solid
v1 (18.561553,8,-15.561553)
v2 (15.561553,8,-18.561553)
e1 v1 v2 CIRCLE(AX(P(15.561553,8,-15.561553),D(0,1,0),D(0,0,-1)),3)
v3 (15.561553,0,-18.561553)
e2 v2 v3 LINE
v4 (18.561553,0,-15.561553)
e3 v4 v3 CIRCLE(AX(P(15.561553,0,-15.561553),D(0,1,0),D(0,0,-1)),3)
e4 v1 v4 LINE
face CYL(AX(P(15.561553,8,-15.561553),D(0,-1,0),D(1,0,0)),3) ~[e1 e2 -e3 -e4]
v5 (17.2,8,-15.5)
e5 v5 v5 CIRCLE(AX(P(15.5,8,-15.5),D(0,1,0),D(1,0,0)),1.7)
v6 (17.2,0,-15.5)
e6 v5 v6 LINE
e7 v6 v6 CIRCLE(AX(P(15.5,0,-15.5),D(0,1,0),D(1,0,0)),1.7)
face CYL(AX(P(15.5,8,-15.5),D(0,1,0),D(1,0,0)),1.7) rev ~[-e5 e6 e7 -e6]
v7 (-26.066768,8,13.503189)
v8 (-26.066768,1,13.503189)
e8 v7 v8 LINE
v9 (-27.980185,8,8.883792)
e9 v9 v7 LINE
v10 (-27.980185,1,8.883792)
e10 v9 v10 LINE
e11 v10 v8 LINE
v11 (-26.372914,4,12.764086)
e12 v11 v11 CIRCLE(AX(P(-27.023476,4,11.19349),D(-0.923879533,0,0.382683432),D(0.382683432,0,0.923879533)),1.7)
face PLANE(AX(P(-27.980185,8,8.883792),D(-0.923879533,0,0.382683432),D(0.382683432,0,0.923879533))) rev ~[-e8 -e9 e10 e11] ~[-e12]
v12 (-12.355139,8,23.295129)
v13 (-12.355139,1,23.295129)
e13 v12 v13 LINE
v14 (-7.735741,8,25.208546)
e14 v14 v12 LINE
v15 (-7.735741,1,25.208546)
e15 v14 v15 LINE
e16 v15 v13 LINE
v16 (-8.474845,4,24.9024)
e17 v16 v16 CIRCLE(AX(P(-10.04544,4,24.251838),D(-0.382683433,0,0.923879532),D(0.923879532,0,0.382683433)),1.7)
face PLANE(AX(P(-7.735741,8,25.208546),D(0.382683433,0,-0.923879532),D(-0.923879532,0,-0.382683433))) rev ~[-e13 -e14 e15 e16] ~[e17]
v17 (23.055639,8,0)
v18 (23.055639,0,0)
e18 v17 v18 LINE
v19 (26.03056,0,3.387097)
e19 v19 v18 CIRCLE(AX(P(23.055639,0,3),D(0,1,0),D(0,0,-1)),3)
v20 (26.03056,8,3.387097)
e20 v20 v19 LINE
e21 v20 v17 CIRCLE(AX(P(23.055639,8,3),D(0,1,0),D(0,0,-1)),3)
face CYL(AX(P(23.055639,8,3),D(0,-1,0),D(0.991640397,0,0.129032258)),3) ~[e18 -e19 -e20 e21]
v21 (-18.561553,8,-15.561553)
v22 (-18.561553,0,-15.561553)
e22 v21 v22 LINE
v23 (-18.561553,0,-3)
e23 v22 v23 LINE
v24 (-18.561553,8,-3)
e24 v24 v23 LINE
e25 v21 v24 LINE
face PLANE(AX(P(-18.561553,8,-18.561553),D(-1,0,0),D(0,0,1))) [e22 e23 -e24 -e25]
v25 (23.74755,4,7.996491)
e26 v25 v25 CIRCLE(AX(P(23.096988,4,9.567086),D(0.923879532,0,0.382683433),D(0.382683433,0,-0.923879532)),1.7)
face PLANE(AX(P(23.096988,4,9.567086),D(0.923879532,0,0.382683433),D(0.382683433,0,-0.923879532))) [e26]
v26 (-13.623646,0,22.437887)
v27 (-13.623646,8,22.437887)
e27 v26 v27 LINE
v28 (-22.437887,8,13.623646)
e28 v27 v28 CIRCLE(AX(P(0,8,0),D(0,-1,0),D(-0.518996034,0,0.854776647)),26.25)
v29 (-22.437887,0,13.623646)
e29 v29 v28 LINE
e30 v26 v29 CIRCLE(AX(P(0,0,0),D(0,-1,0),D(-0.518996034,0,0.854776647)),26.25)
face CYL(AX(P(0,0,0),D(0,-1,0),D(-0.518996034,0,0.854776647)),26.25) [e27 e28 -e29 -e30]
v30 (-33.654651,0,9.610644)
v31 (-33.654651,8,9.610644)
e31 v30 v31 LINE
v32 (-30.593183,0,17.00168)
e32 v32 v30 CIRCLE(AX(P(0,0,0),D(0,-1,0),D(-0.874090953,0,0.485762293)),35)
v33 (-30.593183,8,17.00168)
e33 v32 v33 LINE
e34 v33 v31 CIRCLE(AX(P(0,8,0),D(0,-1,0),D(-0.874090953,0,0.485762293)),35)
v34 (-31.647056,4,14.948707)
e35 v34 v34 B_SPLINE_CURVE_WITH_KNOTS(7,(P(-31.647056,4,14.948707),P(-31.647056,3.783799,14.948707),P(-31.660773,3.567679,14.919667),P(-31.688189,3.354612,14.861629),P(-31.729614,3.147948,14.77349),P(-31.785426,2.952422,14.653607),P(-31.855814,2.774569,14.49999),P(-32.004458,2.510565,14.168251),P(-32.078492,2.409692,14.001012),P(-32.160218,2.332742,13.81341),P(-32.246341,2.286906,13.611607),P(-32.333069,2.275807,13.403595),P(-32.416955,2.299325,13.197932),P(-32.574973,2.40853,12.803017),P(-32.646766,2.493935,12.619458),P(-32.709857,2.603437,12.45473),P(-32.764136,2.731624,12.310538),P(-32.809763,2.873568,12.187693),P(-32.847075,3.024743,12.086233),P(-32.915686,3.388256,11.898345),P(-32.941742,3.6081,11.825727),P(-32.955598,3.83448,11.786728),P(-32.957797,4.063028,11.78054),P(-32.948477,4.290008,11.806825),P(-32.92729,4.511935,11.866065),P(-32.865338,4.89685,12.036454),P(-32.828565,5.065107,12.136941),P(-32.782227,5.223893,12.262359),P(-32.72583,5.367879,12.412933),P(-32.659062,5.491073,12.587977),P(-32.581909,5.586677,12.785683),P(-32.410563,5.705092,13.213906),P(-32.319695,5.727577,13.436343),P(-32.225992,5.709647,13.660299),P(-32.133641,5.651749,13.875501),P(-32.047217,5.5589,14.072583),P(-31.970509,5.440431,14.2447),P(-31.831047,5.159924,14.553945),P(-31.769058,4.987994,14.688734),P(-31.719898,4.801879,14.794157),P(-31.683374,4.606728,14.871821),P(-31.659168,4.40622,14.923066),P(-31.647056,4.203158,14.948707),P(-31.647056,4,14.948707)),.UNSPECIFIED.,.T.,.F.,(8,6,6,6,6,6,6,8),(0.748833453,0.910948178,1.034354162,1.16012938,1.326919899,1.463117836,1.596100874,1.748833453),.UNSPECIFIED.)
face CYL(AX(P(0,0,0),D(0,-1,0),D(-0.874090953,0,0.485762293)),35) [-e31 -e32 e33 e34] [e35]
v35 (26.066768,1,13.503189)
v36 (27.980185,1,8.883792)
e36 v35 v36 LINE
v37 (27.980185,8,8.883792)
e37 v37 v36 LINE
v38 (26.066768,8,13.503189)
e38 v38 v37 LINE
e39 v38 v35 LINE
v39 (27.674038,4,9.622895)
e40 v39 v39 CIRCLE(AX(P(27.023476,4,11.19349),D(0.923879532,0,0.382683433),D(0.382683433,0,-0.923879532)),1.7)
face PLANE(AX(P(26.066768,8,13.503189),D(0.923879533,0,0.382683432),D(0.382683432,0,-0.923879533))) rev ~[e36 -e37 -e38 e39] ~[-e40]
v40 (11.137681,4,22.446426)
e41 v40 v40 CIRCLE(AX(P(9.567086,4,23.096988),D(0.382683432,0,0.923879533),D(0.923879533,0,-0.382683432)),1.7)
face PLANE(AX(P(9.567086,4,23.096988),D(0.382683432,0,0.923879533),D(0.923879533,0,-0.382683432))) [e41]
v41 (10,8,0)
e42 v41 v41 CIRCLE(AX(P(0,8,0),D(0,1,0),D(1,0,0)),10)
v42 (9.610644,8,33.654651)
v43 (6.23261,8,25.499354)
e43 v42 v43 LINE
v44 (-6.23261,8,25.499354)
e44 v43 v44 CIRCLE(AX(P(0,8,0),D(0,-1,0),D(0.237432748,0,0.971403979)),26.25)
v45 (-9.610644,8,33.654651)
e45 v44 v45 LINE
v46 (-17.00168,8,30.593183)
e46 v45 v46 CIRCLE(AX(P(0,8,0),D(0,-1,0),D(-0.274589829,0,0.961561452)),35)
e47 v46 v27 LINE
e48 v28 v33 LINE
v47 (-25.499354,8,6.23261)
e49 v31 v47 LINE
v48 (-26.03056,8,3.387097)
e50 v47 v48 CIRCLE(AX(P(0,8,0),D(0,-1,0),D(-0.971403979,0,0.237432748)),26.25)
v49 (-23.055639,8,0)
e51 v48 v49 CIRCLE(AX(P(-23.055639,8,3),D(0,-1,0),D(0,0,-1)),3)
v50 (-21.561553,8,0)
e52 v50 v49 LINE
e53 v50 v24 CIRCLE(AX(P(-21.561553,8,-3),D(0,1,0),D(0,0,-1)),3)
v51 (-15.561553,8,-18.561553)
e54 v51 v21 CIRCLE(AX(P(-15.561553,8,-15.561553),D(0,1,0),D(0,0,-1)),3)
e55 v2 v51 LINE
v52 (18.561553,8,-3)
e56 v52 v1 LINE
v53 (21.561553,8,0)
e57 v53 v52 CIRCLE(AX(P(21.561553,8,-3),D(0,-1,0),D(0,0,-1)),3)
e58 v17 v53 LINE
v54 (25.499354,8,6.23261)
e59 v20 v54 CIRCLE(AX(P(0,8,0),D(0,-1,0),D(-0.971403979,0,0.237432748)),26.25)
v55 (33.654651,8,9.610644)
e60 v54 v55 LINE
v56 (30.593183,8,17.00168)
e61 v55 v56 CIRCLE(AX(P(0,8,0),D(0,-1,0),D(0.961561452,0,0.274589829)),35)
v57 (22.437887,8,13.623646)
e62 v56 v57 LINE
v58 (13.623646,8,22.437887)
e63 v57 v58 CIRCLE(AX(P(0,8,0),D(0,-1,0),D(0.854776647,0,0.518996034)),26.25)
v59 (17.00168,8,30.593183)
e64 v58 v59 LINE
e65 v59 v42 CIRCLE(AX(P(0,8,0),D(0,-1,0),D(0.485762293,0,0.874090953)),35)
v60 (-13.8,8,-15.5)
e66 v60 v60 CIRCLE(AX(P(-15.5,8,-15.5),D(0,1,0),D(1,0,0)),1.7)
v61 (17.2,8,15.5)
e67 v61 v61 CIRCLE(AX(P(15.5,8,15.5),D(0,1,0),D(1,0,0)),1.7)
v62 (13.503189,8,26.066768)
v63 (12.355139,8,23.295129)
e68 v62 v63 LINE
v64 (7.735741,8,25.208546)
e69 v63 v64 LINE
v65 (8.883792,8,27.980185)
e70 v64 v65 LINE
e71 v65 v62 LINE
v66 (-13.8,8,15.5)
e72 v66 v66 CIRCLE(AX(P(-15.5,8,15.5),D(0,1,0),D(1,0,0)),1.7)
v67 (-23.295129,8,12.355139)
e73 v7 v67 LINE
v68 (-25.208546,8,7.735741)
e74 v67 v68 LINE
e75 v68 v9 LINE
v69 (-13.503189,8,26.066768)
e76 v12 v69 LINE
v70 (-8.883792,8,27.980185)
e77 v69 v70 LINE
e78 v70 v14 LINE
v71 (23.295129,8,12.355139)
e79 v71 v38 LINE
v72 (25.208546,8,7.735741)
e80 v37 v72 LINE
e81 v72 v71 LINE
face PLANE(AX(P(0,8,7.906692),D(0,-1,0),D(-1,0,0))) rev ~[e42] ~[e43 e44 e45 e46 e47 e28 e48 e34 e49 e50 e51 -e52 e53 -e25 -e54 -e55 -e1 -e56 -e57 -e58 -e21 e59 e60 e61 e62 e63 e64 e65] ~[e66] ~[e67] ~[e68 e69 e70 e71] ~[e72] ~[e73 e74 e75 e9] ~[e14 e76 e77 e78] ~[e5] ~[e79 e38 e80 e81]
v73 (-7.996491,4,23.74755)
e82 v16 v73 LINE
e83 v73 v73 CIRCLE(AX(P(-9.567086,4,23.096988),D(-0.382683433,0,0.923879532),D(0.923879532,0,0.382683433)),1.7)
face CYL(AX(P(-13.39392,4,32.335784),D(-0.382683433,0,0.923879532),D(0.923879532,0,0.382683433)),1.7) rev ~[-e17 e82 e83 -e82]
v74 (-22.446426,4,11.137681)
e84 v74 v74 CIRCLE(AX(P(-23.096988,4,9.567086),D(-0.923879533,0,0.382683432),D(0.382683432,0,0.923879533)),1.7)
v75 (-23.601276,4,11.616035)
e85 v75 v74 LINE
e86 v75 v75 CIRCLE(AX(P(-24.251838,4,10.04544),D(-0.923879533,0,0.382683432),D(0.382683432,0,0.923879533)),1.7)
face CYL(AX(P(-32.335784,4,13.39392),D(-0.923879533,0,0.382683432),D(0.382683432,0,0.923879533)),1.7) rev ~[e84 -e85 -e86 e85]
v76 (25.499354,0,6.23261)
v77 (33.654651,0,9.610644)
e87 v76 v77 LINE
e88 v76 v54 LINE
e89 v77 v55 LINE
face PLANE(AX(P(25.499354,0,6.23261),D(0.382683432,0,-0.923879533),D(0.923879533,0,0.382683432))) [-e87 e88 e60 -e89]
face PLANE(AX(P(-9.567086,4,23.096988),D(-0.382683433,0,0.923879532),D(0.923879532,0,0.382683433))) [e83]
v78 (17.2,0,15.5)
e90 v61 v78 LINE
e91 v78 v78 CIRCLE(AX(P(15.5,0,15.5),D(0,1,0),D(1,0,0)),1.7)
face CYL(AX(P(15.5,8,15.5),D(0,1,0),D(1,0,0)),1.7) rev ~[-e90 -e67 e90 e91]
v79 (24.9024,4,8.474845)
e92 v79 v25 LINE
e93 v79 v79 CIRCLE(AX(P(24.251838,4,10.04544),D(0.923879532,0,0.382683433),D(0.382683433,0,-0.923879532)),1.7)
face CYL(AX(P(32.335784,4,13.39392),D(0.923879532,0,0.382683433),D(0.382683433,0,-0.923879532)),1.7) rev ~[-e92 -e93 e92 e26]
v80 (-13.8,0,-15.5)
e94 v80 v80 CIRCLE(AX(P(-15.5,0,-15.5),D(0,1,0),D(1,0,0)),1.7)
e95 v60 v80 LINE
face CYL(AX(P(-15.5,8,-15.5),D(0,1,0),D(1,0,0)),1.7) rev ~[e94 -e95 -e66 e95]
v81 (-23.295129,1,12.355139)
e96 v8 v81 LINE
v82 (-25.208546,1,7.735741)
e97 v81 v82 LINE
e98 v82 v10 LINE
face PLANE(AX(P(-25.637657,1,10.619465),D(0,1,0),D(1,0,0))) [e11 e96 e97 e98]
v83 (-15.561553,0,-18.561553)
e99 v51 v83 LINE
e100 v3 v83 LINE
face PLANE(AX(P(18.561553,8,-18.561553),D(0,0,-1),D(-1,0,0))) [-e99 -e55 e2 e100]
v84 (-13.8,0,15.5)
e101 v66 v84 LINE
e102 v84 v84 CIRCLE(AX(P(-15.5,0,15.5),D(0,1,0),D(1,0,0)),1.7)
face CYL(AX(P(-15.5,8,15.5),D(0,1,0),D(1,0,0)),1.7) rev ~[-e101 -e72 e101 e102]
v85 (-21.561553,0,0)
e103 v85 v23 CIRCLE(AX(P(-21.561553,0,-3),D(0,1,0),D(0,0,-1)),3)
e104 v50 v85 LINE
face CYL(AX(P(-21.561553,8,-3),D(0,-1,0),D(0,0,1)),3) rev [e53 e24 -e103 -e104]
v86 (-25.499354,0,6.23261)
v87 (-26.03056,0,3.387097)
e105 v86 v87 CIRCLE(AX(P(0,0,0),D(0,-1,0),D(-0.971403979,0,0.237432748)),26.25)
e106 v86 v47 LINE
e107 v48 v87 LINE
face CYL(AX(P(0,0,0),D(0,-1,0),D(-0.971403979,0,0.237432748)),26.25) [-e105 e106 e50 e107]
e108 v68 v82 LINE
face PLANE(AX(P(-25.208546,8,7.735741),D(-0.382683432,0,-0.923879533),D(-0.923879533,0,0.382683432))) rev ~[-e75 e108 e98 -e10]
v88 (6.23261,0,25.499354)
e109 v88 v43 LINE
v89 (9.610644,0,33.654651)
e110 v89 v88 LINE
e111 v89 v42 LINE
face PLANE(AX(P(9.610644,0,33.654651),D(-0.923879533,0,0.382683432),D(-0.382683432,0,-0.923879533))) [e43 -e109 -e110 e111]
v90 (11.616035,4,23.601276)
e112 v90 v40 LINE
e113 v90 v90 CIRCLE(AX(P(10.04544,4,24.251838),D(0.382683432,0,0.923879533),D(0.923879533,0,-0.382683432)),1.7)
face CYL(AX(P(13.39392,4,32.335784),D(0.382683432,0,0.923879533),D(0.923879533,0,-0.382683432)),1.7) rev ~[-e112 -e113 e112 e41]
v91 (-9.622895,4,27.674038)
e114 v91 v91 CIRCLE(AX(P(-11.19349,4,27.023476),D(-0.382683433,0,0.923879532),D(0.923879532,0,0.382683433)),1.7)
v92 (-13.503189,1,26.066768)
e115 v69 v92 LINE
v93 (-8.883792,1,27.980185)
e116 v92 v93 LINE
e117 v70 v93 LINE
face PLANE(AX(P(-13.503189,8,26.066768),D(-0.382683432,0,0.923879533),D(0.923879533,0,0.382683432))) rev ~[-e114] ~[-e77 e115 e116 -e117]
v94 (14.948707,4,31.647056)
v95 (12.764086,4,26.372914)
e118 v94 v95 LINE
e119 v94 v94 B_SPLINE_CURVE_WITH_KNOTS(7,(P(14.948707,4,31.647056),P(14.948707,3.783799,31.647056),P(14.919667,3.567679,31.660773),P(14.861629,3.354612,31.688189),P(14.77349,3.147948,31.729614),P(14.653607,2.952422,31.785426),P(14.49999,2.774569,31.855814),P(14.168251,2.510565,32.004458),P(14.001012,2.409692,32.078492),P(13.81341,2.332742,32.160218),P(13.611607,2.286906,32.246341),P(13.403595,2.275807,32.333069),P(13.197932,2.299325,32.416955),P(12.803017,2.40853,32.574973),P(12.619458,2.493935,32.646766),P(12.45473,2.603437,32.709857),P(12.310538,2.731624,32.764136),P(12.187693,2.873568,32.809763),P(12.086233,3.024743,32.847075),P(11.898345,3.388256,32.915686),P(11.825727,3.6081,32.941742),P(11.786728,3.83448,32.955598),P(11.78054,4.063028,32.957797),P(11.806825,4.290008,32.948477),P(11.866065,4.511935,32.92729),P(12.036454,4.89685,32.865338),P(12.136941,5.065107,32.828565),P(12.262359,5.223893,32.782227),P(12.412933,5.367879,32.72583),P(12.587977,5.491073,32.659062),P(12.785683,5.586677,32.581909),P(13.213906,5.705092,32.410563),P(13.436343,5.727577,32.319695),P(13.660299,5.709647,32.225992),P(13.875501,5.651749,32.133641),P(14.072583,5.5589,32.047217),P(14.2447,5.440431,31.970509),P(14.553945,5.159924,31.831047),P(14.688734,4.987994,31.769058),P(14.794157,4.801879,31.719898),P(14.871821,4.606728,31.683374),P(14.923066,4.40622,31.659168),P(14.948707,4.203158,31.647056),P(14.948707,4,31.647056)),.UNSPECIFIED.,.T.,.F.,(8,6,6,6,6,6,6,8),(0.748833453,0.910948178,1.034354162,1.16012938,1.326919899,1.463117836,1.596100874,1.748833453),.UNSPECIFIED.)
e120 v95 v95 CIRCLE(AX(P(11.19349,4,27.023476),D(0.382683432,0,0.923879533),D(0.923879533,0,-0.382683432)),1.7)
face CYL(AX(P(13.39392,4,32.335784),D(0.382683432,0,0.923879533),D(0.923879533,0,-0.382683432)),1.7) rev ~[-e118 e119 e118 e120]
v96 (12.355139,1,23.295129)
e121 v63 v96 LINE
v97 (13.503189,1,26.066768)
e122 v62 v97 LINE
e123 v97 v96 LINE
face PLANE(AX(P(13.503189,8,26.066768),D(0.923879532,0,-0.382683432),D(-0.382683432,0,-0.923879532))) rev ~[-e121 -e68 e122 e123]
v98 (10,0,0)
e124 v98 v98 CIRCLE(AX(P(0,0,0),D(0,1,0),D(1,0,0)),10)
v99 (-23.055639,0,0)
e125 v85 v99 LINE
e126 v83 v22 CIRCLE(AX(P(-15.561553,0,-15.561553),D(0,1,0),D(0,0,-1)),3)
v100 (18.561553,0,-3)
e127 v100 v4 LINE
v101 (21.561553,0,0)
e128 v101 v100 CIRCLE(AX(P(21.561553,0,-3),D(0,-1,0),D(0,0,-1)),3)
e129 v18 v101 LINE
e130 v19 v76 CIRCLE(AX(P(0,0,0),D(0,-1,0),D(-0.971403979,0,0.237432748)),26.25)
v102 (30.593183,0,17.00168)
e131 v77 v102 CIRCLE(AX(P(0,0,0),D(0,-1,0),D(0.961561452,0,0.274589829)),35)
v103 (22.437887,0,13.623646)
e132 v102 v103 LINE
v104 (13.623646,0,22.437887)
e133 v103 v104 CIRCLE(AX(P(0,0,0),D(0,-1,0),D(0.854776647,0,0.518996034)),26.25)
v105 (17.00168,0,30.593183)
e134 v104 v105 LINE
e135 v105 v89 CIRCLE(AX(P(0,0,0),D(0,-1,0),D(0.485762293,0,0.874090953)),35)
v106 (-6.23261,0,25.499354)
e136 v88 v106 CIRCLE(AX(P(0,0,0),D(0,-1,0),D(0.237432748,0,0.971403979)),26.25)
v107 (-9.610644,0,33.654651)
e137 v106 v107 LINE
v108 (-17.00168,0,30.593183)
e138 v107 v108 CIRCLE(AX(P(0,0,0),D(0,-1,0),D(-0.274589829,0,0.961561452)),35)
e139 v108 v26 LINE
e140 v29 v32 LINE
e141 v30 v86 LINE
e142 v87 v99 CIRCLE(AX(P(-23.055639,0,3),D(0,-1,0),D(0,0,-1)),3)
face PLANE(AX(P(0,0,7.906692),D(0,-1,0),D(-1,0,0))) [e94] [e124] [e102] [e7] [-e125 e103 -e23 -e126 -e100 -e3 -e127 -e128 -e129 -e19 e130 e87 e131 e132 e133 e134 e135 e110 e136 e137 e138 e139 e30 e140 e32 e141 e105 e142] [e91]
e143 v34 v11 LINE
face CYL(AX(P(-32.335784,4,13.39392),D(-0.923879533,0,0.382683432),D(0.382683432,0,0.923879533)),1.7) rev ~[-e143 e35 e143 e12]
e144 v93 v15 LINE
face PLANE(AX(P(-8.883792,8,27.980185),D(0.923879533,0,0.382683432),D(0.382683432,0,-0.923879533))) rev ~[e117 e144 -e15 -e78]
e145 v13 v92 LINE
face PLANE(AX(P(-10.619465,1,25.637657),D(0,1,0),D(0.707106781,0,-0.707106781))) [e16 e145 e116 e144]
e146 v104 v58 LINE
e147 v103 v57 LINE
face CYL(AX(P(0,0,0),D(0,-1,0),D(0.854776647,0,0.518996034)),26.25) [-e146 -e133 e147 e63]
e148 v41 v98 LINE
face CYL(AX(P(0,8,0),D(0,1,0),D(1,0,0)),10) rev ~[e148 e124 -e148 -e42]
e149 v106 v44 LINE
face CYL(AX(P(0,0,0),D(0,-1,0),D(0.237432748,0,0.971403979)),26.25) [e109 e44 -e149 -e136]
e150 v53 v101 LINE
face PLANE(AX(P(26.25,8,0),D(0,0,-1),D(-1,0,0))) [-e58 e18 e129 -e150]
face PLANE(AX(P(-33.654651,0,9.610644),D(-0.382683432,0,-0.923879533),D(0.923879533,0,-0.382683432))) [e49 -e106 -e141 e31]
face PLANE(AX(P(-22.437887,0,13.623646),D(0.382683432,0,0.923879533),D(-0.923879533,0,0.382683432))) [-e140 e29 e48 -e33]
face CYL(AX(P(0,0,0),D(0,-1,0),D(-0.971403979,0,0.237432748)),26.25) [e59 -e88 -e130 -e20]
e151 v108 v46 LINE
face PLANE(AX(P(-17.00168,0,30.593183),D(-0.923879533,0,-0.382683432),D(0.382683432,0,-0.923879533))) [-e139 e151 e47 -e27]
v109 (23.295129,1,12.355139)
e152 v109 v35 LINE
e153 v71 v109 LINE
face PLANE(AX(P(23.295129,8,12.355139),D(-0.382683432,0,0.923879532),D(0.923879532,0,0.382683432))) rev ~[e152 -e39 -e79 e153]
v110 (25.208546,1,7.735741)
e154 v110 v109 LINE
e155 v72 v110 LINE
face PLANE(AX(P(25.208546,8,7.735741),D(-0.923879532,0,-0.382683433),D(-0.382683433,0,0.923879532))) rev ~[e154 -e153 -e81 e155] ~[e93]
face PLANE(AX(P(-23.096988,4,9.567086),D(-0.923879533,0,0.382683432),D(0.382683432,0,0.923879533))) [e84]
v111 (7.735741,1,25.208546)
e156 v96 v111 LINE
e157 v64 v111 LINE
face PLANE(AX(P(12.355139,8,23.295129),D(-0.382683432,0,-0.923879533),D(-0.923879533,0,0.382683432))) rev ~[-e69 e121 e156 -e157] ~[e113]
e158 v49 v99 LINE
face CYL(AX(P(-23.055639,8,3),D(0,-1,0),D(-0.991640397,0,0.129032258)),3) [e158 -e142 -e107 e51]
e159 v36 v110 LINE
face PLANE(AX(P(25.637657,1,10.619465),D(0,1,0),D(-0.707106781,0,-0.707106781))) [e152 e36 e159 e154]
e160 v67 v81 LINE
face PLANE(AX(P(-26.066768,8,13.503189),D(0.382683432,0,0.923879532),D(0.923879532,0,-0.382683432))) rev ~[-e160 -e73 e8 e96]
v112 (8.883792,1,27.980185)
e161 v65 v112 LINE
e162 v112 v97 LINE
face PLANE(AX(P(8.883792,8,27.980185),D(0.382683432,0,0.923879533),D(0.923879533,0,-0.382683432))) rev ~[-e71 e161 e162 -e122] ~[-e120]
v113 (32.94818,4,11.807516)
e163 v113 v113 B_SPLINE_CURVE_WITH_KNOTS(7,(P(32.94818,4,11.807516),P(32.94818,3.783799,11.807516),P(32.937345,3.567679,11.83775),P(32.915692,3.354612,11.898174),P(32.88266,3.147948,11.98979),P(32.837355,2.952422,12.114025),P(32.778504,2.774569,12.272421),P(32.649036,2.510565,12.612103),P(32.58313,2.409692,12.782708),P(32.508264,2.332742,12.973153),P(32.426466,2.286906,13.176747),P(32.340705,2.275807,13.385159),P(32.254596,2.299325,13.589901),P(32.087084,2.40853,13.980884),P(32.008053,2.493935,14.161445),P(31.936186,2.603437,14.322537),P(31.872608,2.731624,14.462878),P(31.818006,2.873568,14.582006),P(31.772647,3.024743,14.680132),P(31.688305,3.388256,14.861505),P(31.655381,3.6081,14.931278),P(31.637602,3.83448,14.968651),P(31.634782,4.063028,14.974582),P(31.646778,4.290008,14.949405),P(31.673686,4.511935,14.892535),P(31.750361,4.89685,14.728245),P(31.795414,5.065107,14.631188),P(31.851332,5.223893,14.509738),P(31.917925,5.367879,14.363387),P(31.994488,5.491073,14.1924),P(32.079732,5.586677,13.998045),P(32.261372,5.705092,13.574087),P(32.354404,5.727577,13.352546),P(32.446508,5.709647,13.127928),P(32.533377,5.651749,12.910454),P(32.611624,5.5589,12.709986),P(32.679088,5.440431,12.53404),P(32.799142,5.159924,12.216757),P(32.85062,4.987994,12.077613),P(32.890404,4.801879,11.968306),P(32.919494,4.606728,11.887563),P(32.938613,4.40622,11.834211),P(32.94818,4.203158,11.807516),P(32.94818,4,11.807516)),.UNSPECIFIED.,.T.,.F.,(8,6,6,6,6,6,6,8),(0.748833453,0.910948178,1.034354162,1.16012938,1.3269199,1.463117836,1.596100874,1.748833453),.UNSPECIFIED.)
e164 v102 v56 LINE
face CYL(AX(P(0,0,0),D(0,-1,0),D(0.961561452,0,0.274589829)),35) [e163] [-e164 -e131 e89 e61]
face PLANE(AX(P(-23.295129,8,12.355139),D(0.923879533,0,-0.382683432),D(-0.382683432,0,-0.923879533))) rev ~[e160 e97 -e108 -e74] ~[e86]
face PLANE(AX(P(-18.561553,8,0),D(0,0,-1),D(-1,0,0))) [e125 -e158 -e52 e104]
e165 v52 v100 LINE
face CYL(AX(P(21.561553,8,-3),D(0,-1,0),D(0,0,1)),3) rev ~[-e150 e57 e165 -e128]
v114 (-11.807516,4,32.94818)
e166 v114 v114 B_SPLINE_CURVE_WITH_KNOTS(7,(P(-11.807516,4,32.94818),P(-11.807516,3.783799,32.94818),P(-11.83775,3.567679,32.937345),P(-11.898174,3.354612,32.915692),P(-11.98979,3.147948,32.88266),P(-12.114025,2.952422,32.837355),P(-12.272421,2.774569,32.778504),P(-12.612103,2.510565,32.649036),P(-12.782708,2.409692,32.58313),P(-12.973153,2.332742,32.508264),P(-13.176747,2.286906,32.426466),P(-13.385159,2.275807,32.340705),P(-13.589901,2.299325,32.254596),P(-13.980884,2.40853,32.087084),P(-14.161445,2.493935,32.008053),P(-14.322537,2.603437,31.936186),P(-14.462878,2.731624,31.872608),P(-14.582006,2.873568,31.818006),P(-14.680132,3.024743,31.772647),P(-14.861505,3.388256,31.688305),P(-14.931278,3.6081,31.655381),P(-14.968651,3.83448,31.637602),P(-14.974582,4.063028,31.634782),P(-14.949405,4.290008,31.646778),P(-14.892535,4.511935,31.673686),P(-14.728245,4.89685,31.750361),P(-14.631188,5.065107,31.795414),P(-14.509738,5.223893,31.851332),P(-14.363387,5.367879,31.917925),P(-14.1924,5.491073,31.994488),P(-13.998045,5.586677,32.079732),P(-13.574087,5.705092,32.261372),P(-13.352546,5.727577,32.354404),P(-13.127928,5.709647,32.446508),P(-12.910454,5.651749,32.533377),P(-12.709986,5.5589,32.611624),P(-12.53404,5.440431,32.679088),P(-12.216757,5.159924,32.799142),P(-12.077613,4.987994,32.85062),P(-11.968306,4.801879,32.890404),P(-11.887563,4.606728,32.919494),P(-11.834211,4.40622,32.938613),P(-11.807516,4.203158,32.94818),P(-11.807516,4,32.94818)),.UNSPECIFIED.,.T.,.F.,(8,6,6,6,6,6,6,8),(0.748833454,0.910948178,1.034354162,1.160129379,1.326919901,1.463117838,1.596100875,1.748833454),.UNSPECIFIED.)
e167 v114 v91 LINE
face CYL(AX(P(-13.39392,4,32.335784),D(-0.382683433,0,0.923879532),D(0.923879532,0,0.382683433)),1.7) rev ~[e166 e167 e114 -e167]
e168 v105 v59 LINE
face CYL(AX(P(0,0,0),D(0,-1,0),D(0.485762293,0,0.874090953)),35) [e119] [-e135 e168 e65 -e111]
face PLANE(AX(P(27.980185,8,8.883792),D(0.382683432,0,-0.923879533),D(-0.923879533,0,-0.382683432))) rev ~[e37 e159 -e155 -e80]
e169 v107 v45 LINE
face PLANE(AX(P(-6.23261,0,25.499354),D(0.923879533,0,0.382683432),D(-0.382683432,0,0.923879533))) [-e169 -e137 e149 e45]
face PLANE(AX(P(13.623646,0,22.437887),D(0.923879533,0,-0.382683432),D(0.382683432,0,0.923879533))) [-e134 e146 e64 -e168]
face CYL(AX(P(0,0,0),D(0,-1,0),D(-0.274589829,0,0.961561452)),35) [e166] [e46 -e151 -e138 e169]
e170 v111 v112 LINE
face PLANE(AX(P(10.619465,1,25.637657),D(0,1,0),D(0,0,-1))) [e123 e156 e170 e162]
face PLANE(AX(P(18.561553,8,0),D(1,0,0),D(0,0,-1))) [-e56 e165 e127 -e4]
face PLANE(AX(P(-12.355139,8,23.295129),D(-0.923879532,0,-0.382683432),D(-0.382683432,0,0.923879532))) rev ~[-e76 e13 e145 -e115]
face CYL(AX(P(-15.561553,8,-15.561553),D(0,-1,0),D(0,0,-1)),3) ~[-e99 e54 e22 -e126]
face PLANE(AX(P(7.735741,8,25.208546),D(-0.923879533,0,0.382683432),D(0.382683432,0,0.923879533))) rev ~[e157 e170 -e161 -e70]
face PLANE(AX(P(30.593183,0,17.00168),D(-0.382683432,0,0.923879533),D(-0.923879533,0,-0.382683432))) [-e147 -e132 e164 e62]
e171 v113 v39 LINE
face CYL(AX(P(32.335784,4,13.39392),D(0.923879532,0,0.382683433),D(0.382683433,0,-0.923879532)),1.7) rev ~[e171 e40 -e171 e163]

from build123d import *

# Parameters (mm, degrees)
SALIENTE_EXTRUIR1_DEPTH = 8
CROQUIS3_R              = 1.7
CORTAR_EXTRUIR1_DEPTH   = 10
CORTAR_EXTRUIR2_DEPTH   = 7
MATRIZC1_COUNT          = 4
MATRIZC1_ANGLE          = 135
CROQUIS5_R              = 10
CROQUIS5_R_2            = 1.7
CORTAR_EXTRUIR3_DEPTH   = 8
CORTAR_EXTRUIR4_DEPTH   = 8
REDONDEO1_R             = 3


with BuildPart() as part:
    # Croquis1 → Saliente-Extruir1 (new body)
    with BuildSketch(Plane(origin=(0, 0, 0), x_dir=(1, 0, 0), z_dir=(0, 1, 0))):
        with BuildLine():
            Line((-33.65465082, -9.610644005), (-25.499354444, -6.232609641))
            ThreePointArc((-25.499354444, -6.232609641), (0, 26.25), (25.499354444, -6.232609641))
            Line((25.499354444, -6.232609641), (33.65465082, -9.610644005))
            ThreePointArc((33.65465082, -9.610644005), (32.335783638, -13.393920133), (30.593183361, -17.001680265))
            Line((30.593183361, -17.001680265), (22.437886985, -13.623645901))
            ThreePointArc((22.437886985, -13.623645901), (18.561553006, -18.561553006), (13.623645901, -22.437886985))
            Line((13.623645901, -22.437886985), (17.001680265, -30.593183361))
            ThreePointArc((17.001680265, -30.593183361), (13.393920133, -32.335783638), (9.610644005, -33.65465082))
            Line((9.610644005, -33.65465082), (6.232609641, -25.499354444))
            ThreePointArc((6.232609641, -25.499354444), (0, -26.25), (-6.232609641, -25.499354444))
            Line((-6.232609641, -25.499354444), (-9.610644005, -33.65465082))
            ThreePointArc((-9.610644005, -33.65465082), (-13.393920133, -32.335783638), (-17.001680265, -30.593183361))
            Line((-17.001680265, -30.593183361), (-13.623645901, -22.437886985))
            ThreePointArc((-13.623645901, -22.437886985), (-18.561553006, -18.561553006), (-22.437886985, -13.623645901))
            Line((-22.437886985, -13.623645901), (-30.593183361, -17.001680265))
            ThreePointArc((-30.593183361, -17.001680265), (-32.335783638, -13.393920133), (-33.65465082, -9.610644005))
        make_face()
    extrude(amount=SALIENTE_EXTRUIR1_DEPTH)

    # Croquis3 → Cortar-Extruir1 (cut)
    with BuildSketch(Plane(origin=(-32.335783638, 0, 13.393920133), x_dir=(0.382683432, 0, 0.923879533), z_dir=(-0.923879533, 0, 0.382683432))):
        with Locations((0, 4)):
            Circle(CROQUIS3_R)
    cortar_extruir1 = extrude(amount=-CORTAR_EXTRUIR1_DEPTH, mode=Mode.SUBTRACT)

    # Croquis4 → Cortar-Extruir2 (cut)
    with BuildSketch(Plane(origin=(0, 8, 0), x_dir=(1, 0, 0), z_dir=(0, 1, 0))):
        Polygon((-27.980184907, -8.883791565), (-26.066767745, -13.503189228), (-23.295129148, -12.355138931), (-25.208546309, -7.735741268), align=None)
    cortar_extruir2 = extrude(amount=-CORTAR_EXTRUIR2_DEPTH, mode=Mode.SUBTRACT)

    # MatrizC1: Cortar-Extruir1, Cortar-Extruir2 ×4 about axis
    matrizc1_axis = Axis((0, 0, 0), (0, 1, 0))
    for i in range(1, MATRIZC1_COUNT):
        add(cortar_extruir1.rotate(matrizc1_axis, i * MATRIZC1_ANGLE / (MATRIZC1_COUNT - 1)), mode=Mode.SUBTRACT)
        add(cortar_extruir2.rotate(matrizc1_axis, i * MATRIZC1_ANGLE / (MATRIZC1_COUNT - 1)), mode=Mode.SUBTRACT)

    # Croquis5 → Cortar-Extruir3 (cut)
    with BuildSketch(Plane(origin=(0, 8, 0), x_dir=(1, 0, 0), z_dir=(0, 1, 0))):
        Circle(CROQUIS5_R)
        with Locations((-15.5, 15.5)):
            Circle(CROQUIS5_R_2)
        with Locations((15.5, 15.5)):
            Circle(CROQUIS5_R_2)
        with Locations((15.5, -15.5)):
            Circle(CROQUIS5_R_2)
        with Locations((-15.5, -15.5)):
            Circle(CROQUIS5_R_2)
    extrude(amount=-CORTAR_EXTRUIR3_DEPTH, mode=Mode.SUBTRACT)

    # Croquis6 → Cortar-Extruir4 (cut)
    with BuildSketch(Plane(origin=(0, 8, 0), x_dir=(1, 0, 0), z_dir=(0, 1, 0))):
        Polygon((18.561553006, 18.561553006), (-18.561553006, 18.561553006), (-18.561553006, 0), (-26.25, 0), (-26.25, 31.288102552), (26.25, 31.288102552), (26.25, 0), (18.561553006, 0), align=None)
    extrude(amount=-CORTAR_EXTRUIR4_DEPTH, mode=Mode.SUBTRACT)

    # Redondeo1
    redondeo1_edges = [part.edges().sort_by_distance(p)[0] for p in [
        (-18.561553006, 4, -18.561553006),
        (-18.561553006, 4, 0),
        (-26.25, 4, 0),
        (26.25, 4, 0),
        (18.561553006, 4, 0),
        (18.561553006, 4, -18.561553006),
    ]]
    fillet(redondeo1_edges, radius=REDONDEO1_R)


solid = part.part
